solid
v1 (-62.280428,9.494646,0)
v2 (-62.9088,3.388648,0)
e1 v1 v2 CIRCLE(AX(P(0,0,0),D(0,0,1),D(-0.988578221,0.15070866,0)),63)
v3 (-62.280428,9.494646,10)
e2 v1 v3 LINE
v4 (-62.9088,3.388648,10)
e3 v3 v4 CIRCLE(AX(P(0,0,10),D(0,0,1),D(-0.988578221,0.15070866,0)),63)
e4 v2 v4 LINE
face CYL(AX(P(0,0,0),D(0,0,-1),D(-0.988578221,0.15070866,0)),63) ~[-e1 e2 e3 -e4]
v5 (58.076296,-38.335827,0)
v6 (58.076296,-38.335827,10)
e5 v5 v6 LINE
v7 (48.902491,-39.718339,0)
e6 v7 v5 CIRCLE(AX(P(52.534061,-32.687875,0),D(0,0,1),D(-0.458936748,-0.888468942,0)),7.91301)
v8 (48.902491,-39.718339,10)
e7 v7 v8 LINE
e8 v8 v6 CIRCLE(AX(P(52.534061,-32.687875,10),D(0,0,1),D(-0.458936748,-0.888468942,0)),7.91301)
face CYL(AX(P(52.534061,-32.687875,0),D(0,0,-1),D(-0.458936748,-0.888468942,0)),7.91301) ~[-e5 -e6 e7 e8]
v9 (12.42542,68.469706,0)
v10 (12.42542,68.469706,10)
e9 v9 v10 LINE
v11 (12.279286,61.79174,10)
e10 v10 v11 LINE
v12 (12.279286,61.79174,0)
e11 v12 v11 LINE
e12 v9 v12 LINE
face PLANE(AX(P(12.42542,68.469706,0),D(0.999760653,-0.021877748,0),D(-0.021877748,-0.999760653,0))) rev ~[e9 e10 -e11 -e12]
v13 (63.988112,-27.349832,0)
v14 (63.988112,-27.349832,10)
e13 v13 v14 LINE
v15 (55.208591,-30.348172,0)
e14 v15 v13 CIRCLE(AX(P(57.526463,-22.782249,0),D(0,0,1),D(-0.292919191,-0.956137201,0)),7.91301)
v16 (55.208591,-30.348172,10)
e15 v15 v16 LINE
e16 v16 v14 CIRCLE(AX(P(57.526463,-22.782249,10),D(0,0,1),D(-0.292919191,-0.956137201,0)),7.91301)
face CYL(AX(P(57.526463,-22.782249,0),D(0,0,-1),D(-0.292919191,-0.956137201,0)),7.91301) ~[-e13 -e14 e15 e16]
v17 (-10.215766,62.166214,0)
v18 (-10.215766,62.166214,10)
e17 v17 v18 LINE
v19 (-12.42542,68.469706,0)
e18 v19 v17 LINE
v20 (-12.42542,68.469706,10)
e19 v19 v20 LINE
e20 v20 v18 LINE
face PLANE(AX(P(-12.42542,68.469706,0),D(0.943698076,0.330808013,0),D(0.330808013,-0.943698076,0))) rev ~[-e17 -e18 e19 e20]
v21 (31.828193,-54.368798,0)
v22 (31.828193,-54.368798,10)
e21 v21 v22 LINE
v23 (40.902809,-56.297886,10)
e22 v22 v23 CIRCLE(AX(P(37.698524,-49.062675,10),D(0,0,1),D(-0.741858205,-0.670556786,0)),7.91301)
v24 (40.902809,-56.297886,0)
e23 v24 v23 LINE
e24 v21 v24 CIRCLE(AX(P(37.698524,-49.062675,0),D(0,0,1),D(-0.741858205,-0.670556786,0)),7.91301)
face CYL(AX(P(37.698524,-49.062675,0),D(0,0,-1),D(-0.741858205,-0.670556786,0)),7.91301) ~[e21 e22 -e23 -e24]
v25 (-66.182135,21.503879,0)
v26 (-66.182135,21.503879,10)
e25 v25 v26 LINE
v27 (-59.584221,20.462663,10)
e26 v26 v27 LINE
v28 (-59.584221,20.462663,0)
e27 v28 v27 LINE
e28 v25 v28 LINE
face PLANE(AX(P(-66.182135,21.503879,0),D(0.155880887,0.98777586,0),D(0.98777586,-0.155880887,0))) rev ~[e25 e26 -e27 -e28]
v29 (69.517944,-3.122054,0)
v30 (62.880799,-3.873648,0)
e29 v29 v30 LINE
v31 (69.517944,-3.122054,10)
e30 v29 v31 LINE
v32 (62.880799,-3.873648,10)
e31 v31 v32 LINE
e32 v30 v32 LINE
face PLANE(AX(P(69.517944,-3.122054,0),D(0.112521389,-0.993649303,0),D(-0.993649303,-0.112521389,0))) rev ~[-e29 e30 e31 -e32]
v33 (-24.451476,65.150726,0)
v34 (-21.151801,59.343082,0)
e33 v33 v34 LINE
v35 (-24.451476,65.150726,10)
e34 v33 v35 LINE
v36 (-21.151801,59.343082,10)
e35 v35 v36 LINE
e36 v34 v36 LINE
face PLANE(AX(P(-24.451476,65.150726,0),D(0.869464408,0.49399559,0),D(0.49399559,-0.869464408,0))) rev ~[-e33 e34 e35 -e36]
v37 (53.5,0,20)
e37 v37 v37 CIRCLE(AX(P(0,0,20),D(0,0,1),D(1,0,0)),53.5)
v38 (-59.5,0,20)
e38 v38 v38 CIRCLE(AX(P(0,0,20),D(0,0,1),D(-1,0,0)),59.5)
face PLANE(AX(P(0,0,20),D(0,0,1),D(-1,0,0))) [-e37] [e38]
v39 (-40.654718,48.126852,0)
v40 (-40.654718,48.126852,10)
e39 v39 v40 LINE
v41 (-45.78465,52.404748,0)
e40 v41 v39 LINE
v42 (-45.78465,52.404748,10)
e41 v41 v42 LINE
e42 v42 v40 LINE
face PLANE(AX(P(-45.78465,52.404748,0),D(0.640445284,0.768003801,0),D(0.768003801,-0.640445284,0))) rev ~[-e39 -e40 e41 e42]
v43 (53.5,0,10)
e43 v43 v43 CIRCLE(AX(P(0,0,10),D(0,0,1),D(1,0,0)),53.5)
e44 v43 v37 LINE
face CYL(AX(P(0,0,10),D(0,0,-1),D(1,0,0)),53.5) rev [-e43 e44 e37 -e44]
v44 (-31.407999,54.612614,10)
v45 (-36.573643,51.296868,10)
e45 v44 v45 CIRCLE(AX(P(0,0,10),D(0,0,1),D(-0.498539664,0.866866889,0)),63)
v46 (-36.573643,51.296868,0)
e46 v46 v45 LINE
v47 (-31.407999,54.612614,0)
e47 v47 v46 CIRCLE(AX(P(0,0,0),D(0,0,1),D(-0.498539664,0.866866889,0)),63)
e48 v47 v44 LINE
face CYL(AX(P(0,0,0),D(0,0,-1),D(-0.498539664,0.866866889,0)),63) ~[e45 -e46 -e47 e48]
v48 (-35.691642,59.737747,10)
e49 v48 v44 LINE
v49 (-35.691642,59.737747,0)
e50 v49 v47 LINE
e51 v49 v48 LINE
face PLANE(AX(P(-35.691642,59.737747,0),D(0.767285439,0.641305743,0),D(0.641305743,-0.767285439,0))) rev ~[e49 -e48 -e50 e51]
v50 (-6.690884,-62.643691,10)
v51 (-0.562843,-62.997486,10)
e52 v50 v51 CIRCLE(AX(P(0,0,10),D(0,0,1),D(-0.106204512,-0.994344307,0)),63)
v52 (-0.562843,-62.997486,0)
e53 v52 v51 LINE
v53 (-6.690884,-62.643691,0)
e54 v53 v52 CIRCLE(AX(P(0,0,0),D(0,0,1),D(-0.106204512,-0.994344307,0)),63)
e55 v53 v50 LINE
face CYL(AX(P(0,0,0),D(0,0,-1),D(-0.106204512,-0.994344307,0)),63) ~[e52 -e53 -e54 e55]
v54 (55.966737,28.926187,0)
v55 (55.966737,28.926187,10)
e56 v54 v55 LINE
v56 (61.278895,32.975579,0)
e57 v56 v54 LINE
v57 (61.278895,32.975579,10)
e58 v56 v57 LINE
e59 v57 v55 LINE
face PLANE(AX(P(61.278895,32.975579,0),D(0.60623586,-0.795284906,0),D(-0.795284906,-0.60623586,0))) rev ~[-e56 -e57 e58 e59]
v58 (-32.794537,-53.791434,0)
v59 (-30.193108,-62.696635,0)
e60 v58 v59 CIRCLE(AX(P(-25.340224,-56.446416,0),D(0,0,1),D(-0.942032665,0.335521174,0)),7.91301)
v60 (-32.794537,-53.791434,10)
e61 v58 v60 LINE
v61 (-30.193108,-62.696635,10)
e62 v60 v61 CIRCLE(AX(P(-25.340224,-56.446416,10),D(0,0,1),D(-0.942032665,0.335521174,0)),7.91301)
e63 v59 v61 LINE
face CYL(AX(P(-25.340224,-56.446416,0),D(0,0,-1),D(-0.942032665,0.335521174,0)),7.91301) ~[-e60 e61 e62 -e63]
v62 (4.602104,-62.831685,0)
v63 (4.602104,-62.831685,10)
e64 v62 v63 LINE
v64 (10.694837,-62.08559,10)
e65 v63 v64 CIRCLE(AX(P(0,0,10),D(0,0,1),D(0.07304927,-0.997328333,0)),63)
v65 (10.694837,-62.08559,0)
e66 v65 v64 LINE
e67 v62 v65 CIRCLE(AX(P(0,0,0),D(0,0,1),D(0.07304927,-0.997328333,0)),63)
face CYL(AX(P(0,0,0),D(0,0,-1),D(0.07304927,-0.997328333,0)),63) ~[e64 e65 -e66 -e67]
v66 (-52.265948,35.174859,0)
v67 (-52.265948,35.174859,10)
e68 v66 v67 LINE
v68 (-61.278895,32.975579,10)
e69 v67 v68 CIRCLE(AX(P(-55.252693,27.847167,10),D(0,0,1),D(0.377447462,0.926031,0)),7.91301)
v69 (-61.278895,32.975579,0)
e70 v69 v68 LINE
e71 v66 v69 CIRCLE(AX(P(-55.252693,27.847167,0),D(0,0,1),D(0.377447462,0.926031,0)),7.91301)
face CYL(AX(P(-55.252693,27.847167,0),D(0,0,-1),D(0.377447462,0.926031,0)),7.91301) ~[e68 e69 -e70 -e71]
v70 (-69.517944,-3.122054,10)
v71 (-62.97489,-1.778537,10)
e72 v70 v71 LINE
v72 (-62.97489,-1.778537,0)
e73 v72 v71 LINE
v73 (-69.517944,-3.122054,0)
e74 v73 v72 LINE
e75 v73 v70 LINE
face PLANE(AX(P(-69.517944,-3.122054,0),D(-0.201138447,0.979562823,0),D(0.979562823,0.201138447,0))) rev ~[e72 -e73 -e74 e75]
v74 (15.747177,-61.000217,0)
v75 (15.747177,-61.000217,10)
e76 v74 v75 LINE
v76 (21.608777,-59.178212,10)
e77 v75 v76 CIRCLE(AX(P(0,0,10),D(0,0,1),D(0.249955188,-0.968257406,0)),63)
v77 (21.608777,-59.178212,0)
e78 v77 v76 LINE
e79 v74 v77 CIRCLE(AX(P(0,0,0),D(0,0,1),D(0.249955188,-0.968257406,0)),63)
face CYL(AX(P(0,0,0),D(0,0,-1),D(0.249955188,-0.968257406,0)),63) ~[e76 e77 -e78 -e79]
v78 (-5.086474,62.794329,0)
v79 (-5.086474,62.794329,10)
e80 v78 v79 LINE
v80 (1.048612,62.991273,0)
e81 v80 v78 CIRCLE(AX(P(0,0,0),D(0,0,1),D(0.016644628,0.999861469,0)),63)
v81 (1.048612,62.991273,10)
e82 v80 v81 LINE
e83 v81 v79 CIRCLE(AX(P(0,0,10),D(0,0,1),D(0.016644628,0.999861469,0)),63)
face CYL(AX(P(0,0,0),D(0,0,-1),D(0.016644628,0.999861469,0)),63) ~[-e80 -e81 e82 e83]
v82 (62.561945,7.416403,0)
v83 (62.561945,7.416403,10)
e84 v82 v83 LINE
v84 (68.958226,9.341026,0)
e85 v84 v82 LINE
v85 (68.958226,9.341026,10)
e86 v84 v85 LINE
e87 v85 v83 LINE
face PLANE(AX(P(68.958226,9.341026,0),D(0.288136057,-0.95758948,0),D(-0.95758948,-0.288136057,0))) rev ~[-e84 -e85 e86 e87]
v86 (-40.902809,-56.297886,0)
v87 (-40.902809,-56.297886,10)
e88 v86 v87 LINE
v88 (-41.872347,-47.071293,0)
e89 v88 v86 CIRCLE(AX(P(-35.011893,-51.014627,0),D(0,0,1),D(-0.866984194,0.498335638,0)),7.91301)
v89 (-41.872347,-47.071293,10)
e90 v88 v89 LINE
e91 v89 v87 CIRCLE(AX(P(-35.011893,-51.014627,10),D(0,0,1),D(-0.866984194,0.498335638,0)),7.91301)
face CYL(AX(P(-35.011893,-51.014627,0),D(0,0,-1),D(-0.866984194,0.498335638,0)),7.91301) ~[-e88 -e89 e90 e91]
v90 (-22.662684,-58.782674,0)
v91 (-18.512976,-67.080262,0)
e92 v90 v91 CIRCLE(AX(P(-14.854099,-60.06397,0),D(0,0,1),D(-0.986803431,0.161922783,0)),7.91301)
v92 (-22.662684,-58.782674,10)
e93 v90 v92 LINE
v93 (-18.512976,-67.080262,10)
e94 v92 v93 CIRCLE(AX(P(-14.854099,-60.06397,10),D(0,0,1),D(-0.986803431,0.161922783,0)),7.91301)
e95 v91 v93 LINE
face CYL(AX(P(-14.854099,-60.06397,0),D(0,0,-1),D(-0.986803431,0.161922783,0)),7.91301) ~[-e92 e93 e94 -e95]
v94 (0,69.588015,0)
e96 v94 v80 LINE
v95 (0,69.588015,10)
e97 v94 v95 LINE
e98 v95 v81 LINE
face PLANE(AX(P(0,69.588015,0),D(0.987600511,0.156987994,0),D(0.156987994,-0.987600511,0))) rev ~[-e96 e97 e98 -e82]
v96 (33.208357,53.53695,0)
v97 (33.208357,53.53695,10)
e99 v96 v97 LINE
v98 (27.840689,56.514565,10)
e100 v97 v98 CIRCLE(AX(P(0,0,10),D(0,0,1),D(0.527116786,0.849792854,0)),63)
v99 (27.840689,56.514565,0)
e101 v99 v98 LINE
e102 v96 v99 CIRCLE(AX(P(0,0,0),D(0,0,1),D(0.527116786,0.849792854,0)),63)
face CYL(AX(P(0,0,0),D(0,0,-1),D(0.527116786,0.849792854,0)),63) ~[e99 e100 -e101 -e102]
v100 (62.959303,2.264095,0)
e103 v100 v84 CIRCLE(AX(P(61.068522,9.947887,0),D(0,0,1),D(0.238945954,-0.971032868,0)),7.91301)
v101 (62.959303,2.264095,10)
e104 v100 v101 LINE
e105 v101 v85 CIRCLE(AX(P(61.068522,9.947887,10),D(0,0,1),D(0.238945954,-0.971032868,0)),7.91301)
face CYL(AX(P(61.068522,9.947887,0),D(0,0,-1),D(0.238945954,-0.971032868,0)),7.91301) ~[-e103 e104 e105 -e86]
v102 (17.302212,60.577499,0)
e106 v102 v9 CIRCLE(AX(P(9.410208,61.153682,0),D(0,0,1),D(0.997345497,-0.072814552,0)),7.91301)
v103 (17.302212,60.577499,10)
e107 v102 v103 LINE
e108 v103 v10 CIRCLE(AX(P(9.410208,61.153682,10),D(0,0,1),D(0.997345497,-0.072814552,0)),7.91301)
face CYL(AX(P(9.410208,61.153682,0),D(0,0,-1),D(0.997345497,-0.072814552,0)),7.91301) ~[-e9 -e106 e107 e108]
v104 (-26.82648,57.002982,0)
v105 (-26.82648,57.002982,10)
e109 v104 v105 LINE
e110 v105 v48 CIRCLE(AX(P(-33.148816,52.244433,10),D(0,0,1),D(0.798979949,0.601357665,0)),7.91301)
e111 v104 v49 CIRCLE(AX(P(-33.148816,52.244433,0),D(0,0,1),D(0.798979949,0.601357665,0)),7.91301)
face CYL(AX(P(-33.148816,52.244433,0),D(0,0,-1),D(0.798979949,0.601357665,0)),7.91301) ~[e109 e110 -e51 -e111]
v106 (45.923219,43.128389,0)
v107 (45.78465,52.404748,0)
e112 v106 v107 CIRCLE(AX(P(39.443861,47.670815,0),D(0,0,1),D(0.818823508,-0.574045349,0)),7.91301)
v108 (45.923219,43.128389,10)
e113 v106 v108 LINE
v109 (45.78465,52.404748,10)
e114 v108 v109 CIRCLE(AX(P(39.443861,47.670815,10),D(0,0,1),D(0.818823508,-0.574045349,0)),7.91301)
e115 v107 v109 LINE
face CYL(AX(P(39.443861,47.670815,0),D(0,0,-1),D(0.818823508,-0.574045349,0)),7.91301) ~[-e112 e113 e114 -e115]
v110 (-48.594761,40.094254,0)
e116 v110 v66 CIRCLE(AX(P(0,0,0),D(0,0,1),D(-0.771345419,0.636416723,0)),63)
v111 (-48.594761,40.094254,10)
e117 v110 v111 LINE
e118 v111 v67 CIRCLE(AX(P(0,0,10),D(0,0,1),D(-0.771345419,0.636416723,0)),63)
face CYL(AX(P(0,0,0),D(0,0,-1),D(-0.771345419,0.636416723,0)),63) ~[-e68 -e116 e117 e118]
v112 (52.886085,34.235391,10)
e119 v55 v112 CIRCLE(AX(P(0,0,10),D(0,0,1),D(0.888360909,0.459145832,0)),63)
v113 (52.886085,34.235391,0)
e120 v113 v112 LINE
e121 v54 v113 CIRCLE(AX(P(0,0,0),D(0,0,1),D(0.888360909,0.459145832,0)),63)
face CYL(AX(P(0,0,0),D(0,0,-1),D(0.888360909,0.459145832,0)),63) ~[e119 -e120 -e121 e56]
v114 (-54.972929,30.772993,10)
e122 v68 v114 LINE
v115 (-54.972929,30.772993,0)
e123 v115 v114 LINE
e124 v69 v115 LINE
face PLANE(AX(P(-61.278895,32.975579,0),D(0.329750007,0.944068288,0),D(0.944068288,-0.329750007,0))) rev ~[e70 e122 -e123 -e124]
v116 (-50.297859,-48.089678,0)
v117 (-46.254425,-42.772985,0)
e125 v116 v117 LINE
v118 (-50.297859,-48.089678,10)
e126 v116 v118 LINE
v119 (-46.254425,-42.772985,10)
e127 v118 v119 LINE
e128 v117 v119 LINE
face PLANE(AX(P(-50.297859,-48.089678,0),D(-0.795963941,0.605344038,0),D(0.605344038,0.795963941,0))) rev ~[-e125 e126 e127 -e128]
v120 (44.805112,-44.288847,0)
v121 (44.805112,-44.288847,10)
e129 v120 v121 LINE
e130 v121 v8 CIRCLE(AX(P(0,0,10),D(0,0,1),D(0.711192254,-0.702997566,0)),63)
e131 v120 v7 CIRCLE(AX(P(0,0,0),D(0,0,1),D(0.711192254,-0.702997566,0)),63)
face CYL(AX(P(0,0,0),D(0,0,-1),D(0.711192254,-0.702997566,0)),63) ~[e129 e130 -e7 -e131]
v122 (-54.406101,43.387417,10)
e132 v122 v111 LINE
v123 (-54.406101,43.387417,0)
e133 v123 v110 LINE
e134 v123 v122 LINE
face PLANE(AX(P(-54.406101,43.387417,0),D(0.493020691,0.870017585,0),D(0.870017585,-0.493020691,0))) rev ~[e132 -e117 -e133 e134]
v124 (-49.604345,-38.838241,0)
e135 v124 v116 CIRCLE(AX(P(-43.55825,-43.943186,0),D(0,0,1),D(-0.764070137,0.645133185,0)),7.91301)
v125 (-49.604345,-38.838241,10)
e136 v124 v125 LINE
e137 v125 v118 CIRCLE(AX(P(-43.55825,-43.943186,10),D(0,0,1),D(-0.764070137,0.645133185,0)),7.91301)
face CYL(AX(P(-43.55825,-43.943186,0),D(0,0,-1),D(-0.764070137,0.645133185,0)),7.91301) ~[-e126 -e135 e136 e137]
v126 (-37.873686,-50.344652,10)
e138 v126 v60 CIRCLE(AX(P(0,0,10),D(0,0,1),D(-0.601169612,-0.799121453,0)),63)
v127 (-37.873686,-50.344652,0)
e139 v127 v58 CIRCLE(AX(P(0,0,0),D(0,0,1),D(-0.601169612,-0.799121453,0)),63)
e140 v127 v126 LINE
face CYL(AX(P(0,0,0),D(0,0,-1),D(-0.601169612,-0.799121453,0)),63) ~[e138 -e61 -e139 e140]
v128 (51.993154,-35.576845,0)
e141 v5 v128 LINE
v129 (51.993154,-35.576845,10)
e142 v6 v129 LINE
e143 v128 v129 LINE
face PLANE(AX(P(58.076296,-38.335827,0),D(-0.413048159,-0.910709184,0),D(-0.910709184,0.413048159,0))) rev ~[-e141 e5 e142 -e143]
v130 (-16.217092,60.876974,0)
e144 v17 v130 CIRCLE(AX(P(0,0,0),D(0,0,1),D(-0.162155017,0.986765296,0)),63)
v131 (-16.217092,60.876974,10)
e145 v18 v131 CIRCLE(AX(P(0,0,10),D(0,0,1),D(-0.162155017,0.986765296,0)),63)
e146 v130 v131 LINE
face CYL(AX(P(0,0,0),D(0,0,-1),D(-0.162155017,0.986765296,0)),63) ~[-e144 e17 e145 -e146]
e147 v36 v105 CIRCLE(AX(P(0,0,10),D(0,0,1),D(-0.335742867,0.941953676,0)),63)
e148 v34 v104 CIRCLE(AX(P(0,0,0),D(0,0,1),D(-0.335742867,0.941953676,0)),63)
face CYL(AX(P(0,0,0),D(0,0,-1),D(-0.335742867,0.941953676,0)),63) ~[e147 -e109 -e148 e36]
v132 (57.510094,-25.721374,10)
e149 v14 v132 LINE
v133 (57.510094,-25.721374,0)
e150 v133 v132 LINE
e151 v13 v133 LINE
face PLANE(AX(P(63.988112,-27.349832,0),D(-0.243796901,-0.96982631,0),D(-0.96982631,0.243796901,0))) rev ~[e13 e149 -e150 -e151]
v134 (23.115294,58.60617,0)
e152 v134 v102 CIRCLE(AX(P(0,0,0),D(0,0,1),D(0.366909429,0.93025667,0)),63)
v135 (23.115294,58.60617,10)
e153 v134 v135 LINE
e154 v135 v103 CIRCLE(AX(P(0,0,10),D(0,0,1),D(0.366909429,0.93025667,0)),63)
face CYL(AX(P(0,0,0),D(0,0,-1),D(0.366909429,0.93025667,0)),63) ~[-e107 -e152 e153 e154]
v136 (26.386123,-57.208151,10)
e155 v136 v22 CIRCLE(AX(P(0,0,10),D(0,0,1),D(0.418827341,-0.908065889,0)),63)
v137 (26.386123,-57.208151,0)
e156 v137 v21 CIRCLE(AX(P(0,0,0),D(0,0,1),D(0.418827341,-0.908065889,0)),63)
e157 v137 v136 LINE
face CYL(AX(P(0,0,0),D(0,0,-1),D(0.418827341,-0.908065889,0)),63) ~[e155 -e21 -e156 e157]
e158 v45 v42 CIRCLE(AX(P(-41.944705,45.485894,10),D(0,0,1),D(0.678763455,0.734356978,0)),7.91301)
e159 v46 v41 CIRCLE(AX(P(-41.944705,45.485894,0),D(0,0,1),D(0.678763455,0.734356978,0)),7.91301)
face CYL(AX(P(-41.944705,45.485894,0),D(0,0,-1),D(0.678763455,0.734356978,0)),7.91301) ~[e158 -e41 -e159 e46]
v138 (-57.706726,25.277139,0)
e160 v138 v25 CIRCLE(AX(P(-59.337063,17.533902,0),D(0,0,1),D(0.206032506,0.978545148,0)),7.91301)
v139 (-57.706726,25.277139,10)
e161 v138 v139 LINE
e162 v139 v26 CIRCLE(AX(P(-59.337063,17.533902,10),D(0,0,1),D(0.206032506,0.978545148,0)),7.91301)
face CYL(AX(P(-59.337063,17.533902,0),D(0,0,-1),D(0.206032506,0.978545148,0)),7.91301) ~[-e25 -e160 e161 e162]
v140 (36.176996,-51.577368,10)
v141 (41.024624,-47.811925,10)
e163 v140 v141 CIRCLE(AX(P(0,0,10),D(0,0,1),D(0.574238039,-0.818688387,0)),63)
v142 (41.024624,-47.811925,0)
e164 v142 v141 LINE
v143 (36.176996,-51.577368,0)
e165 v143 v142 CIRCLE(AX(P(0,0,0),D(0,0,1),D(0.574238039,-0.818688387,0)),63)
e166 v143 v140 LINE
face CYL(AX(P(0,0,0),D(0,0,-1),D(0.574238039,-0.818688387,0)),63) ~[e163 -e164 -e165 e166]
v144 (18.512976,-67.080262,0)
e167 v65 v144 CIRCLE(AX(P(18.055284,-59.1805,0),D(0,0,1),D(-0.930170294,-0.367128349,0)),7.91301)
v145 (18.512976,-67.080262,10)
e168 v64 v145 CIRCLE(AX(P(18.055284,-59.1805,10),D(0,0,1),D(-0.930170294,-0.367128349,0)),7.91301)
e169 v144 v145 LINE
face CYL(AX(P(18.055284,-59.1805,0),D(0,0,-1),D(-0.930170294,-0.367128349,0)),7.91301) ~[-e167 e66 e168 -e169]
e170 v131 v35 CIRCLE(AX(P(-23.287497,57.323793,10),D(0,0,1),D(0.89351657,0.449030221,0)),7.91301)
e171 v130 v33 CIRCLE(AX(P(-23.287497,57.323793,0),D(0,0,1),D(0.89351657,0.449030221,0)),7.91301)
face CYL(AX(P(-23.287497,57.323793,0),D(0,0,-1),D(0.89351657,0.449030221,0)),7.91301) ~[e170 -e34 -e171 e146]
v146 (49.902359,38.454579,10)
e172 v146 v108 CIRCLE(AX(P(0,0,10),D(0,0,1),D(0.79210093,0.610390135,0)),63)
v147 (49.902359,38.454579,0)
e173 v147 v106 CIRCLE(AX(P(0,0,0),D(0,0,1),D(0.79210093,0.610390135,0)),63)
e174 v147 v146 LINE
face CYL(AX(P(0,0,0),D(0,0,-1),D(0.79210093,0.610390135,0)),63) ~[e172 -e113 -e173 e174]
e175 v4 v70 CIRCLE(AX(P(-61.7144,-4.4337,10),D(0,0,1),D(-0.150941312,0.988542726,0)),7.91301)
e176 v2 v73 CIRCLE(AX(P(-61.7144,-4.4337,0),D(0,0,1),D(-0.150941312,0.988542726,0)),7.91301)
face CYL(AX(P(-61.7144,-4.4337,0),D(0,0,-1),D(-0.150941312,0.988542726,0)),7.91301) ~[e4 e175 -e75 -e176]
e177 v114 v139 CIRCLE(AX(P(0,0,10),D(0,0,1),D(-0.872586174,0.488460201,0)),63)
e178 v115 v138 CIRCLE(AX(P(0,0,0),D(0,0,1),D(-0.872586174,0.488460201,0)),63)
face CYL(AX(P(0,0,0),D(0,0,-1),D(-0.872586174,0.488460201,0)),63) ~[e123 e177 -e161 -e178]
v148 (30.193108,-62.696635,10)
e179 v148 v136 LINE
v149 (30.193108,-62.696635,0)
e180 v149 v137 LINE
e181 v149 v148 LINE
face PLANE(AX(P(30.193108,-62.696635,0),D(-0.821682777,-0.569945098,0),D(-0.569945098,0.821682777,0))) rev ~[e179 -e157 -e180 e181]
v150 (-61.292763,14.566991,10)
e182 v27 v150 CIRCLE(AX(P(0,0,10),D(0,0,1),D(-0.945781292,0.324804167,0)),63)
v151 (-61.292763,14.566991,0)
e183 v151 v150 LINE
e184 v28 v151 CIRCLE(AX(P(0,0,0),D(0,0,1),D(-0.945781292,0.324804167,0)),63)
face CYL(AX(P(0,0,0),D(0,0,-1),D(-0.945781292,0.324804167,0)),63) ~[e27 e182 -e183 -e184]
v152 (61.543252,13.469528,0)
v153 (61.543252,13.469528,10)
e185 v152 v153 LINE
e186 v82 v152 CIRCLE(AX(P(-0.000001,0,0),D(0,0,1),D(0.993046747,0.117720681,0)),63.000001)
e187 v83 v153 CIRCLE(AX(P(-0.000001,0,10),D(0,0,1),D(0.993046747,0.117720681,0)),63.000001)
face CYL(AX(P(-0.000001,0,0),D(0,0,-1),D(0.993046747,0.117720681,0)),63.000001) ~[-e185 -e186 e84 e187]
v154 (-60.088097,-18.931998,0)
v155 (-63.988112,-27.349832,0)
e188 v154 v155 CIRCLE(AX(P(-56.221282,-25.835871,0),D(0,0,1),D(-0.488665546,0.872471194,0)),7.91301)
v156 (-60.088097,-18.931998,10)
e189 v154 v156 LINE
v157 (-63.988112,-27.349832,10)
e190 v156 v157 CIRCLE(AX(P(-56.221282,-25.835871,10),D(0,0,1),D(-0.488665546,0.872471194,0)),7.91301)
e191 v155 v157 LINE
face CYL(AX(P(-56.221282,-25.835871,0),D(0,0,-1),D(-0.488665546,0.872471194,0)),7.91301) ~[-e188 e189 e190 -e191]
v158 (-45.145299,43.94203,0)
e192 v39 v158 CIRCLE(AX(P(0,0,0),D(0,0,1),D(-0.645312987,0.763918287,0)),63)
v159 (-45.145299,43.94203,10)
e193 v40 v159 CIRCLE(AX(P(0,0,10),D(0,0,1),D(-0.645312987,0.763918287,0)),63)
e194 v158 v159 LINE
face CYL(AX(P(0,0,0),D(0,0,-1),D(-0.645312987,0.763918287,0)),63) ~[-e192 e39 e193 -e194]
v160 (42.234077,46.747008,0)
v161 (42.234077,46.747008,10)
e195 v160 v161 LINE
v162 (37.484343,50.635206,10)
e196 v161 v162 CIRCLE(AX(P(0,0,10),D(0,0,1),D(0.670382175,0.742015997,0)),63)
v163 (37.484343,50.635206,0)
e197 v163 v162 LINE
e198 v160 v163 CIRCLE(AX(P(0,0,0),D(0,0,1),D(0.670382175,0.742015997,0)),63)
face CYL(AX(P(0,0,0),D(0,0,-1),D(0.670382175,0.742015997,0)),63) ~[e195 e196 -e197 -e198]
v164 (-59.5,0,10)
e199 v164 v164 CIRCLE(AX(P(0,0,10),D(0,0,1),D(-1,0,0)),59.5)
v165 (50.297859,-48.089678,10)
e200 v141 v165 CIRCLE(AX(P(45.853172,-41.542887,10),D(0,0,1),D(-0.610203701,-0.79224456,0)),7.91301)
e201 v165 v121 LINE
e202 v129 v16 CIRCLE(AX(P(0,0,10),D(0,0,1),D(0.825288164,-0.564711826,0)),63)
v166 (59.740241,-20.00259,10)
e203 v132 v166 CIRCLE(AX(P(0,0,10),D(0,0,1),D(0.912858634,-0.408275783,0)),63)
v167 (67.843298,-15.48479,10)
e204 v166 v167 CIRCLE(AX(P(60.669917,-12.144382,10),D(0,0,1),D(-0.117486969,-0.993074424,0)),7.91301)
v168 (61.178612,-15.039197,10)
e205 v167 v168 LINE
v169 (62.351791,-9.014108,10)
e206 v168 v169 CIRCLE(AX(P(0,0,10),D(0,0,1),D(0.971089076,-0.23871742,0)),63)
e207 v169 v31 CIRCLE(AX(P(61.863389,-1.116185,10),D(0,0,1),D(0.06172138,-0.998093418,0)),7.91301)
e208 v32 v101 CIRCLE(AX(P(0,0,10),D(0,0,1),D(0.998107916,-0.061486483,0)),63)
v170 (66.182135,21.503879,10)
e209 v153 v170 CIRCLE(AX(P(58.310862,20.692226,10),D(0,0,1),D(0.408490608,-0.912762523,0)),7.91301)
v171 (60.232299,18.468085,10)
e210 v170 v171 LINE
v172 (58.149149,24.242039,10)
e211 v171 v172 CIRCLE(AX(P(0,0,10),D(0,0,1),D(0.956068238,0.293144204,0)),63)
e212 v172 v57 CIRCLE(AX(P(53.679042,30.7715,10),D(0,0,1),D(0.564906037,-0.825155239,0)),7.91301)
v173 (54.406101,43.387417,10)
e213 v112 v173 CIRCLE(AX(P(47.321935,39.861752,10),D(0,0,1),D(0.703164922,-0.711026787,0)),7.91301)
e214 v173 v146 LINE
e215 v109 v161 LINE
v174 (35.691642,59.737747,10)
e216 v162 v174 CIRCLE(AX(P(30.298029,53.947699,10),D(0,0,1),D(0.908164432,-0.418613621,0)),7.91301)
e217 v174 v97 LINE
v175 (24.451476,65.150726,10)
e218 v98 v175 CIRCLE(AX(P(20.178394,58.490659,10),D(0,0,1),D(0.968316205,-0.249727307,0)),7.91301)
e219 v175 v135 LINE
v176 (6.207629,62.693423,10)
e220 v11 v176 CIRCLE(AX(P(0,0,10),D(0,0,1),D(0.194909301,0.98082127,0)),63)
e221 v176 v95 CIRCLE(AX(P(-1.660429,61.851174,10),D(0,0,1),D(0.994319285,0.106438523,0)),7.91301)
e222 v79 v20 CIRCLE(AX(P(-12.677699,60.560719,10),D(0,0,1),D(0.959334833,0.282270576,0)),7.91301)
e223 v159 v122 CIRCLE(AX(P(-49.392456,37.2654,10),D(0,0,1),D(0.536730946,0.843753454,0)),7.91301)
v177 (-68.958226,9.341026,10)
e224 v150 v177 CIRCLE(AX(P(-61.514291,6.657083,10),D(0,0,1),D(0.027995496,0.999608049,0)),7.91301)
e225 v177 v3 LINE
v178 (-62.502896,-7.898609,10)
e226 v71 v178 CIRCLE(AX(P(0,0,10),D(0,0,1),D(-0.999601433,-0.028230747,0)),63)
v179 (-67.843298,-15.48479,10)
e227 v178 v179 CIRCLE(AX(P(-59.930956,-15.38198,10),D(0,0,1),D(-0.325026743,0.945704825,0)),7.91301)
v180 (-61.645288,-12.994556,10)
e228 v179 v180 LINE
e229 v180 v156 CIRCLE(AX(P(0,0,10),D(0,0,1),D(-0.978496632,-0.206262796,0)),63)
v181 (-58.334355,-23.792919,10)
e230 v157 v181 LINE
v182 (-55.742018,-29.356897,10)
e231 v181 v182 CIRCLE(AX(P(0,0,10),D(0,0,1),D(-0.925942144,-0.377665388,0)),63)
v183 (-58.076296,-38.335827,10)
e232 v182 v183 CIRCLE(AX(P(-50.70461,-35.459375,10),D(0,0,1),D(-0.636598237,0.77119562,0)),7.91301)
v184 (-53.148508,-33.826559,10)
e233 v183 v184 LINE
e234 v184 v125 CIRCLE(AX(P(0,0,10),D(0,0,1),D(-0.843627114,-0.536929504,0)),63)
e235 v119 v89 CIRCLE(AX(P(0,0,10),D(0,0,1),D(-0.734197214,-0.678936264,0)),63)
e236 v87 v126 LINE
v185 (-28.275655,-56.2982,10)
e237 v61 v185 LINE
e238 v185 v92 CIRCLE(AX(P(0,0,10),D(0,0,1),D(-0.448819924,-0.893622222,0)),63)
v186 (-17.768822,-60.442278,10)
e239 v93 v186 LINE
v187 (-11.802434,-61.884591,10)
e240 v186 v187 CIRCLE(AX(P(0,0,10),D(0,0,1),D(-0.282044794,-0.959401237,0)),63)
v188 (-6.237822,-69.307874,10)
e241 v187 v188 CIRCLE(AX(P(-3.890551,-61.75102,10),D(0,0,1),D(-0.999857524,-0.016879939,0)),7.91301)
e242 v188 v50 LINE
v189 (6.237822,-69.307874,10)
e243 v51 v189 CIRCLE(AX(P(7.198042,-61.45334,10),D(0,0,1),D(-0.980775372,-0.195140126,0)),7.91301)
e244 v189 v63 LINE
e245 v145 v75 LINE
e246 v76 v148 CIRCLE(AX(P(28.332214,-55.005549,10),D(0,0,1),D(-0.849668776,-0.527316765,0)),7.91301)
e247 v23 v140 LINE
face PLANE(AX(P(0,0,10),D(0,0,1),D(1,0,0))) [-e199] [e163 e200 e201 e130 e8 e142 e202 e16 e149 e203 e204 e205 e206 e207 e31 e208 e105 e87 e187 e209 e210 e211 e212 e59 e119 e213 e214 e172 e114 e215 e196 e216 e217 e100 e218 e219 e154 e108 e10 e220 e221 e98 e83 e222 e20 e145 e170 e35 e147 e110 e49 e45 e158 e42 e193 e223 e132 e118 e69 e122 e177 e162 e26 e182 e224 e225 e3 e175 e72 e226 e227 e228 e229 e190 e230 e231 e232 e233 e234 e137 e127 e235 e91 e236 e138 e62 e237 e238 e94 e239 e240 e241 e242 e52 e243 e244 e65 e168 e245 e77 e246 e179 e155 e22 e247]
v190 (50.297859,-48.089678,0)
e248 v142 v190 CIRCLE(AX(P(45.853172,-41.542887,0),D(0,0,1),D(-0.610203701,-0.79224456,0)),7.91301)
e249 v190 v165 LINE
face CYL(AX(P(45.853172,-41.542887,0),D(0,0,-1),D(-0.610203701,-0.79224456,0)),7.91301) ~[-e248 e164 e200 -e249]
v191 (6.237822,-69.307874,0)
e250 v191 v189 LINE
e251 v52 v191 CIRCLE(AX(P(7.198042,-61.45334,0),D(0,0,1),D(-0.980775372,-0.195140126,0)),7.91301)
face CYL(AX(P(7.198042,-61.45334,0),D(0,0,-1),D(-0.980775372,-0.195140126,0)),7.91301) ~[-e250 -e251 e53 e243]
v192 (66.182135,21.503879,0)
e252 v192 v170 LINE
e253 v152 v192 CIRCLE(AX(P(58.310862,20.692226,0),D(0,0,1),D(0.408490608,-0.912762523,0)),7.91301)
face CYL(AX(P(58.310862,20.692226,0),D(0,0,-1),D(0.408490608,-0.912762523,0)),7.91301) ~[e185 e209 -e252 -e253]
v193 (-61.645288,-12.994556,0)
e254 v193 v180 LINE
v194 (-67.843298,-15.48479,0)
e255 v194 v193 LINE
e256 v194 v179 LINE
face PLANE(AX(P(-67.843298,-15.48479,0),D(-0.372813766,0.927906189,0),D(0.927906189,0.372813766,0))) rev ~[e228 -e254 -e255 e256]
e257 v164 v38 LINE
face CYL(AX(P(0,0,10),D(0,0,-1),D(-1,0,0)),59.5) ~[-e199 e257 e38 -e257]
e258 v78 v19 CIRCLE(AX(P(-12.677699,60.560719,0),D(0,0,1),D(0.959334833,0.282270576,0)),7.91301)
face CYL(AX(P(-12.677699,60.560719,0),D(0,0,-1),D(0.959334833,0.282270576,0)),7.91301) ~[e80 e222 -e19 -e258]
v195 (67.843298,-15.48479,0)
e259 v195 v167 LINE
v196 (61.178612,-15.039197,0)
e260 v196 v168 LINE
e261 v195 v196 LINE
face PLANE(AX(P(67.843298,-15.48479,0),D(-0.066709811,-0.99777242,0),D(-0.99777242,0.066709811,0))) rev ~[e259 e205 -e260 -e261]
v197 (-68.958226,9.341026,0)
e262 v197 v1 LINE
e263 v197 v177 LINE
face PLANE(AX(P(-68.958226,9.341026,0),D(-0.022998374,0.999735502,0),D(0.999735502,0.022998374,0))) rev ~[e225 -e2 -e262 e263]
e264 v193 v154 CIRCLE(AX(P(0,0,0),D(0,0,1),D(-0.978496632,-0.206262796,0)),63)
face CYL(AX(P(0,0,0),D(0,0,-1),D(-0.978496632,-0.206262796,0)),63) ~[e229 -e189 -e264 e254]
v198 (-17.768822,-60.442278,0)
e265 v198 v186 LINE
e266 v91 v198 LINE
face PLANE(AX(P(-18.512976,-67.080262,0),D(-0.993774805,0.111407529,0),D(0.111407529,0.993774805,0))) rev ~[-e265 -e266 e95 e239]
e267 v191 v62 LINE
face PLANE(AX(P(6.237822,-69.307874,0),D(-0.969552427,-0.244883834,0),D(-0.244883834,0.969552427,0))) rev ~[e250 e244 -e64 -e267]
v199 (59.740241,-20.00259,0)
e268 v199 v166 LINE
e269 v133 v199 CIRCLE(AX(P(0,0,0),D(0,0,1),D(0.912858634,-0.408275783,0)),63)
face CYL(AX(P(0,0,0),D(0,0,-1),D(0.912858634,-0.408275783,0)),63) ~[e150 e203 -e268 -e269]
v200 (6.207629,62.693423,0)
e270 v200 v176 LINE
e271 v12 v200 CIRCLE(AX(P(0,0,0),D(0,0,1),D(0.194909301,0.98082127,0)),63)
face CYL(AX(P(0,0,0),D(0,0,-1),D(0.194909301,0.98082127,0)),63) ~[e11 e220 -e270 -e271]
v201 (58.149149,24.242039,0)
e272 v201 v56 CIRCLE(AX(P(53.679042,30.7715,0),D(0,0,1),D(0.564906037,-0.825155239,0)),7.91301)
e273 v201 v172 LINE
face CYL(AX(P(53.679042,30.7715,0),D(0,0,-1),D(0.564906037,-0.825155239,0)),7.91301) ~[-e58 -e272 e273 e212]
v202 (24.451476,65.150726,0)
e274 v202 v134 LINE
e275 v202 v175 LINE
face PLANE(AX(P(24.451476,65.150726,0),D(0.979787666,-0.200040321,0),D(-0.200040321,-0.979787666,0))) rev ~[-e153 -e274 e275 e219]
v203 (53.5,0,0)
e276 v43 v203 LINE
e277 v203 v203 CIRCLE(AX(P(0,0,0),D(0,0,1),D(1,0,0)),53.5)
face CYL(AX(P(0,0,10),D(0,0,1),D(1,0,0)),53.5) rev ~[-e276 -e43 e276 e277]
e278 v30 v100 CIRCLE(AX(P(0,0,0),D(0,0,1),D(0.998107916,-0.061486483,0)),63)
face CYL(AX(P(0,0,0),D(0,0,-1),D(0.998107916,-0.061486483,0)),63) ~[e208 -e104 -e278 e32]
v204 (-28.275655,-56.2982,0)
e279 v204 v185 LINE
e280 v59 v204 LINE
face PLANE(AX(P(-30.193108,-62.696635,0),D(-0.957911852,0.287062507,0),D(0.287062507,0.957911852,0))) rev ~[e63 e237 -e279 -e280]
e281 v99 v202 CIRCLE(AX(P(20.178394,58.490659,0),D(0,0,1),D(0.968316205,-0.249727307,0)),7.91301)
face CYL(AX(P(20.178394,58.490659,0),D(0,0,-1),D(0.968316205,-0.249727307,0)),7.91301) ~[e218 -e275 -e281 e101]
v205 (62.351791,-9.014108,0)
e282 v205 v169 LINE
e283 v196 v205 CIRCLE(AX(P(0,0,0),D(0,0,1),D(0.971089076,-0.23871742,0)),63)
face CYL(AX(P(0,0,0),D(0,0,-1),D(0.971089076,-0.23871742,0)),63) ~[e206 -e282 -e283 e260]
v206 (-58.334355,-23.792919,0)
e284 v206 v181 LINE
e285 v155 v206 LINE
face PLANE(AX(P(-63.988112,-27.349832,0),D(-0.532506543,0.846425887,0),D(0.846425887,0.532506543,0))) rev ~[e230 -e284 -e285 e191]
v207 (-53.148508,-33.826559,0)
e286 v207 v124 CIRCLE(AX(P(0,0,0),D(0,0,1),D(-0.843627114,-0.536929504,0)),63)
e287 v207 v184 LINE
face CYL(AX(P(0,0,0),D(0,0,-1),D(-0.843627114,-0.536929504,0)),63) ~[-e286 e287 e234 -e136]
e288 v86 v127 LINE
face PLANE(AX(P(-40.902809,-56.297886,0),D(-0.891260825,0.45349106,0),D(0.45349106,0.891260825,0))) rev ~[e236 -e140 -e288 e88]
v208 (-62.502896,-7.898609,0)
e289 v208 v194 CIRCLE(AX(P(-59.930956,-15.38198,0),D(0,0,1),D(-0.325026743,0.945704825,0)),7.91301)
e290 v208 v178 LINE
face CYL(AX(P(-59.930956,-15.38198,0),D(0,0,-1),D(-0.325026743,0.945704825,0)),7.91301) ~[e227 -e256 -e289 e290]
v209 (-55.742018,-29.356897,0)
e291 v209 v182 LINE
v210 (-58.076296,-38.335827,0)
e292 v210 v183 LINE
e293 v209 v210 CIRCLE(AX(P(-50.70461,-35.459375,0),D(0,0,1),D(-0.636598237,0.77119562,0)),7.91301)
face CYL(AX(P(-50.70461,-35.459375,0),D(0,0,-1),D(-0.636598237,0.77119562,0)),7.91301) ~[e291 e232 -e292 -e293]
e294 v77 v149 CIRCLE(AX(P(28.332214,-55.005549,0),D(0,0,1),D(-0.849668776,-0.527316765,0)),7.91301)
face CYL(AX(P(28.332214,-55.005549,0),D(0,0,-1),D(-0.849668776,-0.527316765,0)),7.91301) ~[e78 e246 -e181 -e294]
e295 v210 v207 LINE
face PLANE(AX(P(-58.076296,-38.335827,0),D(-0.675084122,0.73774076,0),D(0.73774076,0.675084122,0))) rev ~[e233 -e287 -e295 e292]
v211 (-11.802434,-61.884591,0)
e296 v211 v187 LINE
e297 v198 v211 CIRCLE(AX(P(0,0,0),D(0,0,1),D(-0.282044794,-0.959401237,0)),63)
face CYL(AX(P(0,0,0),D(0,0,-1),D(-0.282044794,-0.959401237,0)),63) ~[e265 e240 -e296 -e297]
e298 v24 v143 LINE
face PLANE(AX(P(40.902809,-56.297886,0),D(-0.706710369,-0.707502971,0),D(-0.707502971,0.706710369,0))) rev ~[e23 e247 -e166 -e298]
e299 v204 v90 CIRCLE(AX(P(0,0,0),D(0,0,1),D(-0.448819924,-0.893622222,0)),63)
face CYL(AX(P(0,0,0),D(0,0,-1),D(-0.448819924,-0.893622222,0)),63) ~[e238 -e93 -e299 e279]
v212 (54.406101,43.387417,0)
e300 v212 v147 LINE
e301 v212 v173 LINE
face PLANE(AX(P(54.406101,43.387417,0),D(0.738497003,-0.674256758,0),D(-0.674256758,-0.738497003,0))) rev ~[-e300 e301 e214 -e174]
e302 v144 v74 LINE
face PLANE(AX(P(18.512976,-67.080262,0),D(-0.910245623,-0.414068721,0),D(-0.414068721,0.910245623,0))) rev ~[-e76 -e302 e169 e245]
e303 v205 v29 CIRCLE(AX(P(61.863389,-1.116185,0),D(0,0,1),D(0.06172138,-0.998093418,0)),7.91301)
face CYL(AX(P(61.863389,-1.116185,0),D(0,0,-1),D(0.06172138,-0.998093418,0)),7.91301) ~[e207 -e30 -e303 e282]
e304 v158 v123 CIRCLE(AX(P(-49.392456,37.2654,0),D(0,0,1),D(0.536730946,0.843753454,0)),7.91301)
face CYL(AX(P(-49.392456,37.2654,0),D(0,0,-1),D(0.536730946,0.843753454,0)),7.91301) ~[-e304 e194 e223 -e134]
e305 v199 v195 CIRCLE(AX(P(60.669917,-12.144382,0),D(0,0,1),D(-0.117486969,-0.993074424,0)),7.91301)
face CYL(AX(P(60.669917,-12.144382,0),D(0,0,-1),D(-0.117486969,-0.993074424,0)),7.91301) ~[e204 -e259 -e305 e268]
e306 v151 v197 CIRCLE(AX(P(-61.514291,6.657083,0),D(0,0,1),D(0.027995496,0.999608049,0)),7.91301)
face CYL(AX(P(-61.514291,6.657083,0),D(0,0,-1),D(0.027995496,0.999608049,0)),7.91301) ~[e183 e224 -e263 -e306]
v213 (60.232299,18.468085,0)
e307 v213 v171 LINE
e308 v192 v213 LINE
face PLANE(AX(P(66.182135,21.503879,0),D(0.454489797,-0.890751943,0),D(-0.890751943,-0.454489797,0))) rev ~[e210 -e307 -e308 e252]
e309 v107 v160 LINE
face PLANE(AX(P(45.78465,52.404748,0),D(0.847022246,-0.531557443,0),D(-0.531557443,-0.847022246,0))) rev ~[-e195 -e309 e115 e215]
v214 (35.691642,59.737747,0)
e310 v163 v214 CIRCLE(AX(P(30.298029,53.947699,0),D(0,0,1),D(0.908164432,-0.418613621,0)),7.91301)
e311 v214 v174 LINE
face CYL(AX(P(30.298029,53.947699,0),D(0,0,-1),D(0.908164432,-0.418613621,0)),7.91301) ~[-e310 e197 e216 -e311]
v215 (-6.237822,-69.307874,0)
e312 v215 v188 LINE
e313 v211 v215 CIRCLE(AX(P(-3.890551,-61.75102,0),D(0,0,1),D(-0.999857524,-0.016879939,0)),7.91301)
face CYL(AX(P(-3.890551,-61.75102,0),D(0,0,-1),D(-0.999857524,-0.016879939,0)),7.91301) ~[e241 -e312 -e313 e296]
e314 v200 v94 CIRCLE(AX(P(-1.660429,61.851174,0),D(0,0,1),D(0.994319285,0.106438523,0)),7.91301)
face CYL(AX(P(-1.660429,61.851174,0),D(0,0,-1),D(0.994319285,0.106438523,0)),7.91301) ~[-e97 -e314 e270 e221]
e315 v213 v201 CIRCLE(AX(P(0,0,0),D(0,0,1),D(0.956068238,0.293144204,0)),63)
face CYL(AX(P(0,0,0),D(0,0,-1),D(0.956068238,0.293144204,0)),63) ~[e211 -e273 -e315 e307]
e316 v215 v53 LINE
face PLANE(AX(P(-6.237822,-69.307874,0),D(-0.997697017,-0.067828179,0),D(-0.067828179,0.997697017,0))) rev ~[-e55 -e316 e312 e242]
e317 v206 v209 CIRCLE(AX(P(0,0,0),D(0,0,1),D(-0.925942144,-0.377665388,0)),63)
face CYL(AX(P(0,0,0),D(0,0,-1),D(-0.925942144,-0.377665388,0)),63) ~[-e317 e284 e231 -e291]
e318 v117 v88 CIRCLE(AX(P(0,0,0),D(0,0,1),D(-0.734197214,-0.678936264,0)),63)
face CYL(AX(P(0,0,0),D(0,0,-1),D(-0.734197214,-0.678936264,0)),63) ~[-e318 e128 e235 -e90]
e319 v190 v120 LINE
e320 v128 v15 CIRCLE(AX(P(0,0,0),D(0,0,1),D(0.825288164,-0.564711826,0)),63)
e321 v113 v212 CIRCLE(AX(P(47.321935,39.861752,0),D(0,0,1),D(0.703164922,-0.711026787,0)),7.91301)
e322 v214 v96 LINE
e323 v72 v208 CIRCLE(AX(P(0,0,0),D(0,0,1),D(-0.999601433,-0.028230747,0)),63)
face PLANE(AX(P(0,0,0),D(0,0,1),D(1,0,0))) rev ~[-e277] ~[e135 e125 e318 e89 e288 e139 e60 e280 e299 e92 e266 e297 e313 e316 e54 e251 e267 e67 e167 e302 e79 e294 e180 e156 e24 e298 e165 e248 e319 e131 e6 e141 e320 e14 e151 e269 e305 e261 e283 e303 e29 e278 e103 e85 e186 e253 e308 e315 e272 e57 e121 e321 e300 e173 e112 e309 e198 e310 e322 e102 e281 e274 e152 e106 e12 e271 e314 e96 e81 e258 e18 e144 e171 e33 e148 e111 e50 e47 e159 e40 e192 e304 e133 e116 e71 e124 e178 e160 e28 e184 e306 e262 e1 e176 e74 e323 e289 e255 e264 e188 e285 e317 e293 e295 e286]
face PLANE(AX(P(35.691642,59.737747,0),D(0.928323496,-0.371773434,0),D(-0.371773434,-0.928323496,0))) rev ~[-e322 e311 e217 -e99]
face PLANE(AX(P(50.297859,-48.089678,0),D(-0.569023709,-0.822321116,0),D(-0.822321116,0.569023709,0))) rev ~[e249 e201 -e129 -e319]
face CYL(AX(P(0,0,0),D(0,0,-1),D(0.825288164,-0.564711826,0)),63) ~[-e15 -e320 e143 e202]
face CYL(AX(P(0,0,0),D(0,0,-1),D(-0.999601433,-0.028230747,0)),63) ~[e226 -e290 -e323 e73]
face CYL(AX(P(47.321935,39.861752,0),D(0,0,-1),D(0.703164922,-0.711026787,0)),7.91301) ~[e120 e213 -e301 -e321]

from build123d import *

# Parameters (mm, degrees)
BOSS_EXTRUDE1_DEPTH = 10
SKETCH2_R           = 59.5
SKETCH2_R_2         = 53.5
BOSS_EXTRUDE2_DEPTH = 10
SKETCH3_R           = 53.5
CUT_EXTRUDE4_DEPTH  = 10


with BuildPart() as part:
    # Sketch1 → Boss-Extrude1 (new body)
    with BuildSketch(Plane.XY):
        with BuildLine():
            Line((0, 69.588014501), (1.048611539, 62.991272521))
            ThreePointArc((1.048611539, 62.991272521), (-2.021331039, 62.967564832), (-5.0864736, 62.794329253))
            ThreePointArc((-5.0864736, 62.794329253), (-7.836974129, 66.820360054), (-12.425419784, 68.469706479))
            Line((-12.425419784, 68.469706479), (-10.2157661, 62.166213677))
            ThreePointArc((-10.2157661, 62.166213677), (-13.232140267, 61.594727566), (-16.217092319, 60.876973617))
            ThreePointArc((-16.217092319, 60.876973617), (-19.642266731, 64.347183613), (-24.451476353, 65.150725754))
            Line((-24.451476353, 65.150725754), (-21.151800612, 59.343081576))
            ThreePointArc((-21.151800612, 59.343081576), (-24.017657619, 58.242185077), (-26.826480348, 57.002981958))
            ThreePointArc((-26.826480348, 57.002981958), (-30.816240719, 59.805835745), (-35.691642354, 59.737747098))
            Line((-35.691642354, 59.737747098), (-31.407998848, 54.612614004))
            ThreePointArc((-31.407998848, 54.612614004), (-34.031227694, 53.017690837), (-36.573643225, 51.296867558))
            ThreePointArc((-36.573643225, 51.296867558), (-40.999755374, 53.342279108), (-45.784649601, 52.404748097))
            Line((-45.784649601, 52.404748097), (-40.654718159, 48.126852083))
            ThreePointArc((-40.654718159, 48.126852083), (-42.951006109, 46.08916439), (-45.145299116, 43.942029627))
            ThreePointArc((-45.145299116, 43.942029627), (-49.865504157, 45.164257731), (-54.406100539, 43.387417373))
            Line((-54.406100539, 43.387417373), (-48.594761377, 40.094253538))
            ThreePointArc((-48.594761377, 40.094253538), (-50.490303849, 37.679294278), (-52.265947947, 35.174858708))
            ThreePointArc((-52.265947947, 35.174858708), (-57.128534607, 35.534619949), (-61.27889464, 32.975579356))
            Line((-61.27889464, 32.975579356), (-54.97292898, 30.772992693))
            ThreePointArc((-54.97292898, 30.772992693), (-56.406801678, 28.058380645), (-57.706726208, 25.277138889))
            ThreePointArc((-57.706726208, 25.277138889), (-62.555406949, 24.762870243), (-66.182134647, 21.503879086))
            Line((-66.182134647, 21.503879086), (-59.584221415, 20.462662544))
            ThreePointArc((-59.584221415, 20.462662544), (-60.510338491, 17.535647571), (-61.292762806, 14.566991027))
            ThreePointArc((-61.292762806, 14.566991027), (-65.97169704, 13.195221514), (-68.958226392, 9.341026448))
            Line((-68.958226392, 9.341026448), (-62.280427947, 9.494645584))
            ThreePointArc((-62.280427947, 9.494645584), (-62.669023236, 6.449304357), (-62.908799576, 3.388648088))
            ThreePointArc((-62.908799576, 3.388648088), (-67.267602508, 1.203467507), (-69.517944001, -3.122054465))
            Line((-69.517944001, -3.122054465), (-62.97489028, -1.778537098))
            ThreePointArc((-62.97489028, -1.778537098), (-62.81347401, -4.844324807), (-62.502895767, -7.898608789))
            ThreePointArc((-62.502895767, -7.898608789), (-66.401471883, -10.826966935), (-67.84329769, -15.484789979))
            Line((-67.84329769, -15.484789979), (-61.645287824, -12.994556134))
            ThreePointArc((-61.645287824, -12.994556134), (-60.939048046, -15.982253385), (-60.088097459, -18.93199788))
            ThreePointArc((-60.088097459, -18.93199788), (-63.401143316, -22.509413752), (-63.98811197, -27.349831602))
            Line((-63.98811197, -27.349831602), (-58.334355095, -23.792919443))
            ThreePointArc((-58.334355095, -23.792919443), (-57.105990937, -26.606499189), (-55.742018259, -29.356896982))
            ThreePointArc((-55.742018259, -29.356896982), (-58.363049836, -33.468389489), (-58.076295682, -38.335827134))
            Line((-58.076295682, -38.335827134), (-53.148508196, -33.826558745))
            ThreePointArc((-53.148508196, -33.826558745), (-51.437500293, -36.375590217), (-49.604344727, -38.83824126))
            ThreePointArc((-49.604344727, -38.83824126), (-51.449119914, -43.351663651), (-50.297859465, -48.089677639))
            Line((-50.297859465, -48.089677639), (-46.254424513, -42.772984617))
            ThreePointArc((-46.254424513, -42.772984617), (-44.115766066, -44.975539846), (-41.872346741, -47.071292508))
            ThreePointArc((-41.872346741, -47.071292508), (-42.881572944, -51.841579673), (-40.90280866, -56.297886336))
            Line((-40.90280866, -56.297886336), (-37.873685567, -50.344651569))
            ThreePointArc((-37.873685567, -50.344651569), (-35.376114819, -52.129938618), (-32.794537078, -53.791433684))
            ThreePointArc((-32.794537078, -53.791433684), (-32.935776938, -58.665264669), (-30.193107929, -62.696634645))
            Line((-30.193107929, -62.696634645), (-28.275655205, -56.298199996))
            ThreePointArc((-28.275655205, -56.298199996), (-25.499446135, -57.60883827), (-22.66268401, -58.782673922))
            ThreePointArc((-22.66268401, -58.782673922), (-21.931397961, -63.603399789), (-18.512975867, -67.080261528))
            Line((-18.512975867, -67.080261528), (-17.768822019, -60.442277952))
            ThreePointArc((-17.768822019, -60.442277952), (-14.80320427, -61.23614246), (-11.802433631, -61.884590654))
            ThreePointArc((-11.802433631, -61.884590654), (-10.222125808, -66.497269306), (-6.237821528, -69.307873613))
            Line((-6.237821528, -69.307873613), (-6.690884273, -62.643691363))
            ThreePointArc((-6.690884273, -62.643691363), (-3.631175241, -62.895266645), (-0.562843324, -62.997485723))
            ThreePointArc((-0.562843324, -62.997485723), (1.815693879, -67.253861874), (6.237821528, -69.307873613))
            Line((6.237821528, -69.307873613), (4.602103998, -62.831684991))
            ThreePointArc((4.602103998, -62.831684991), (7.657562749, -62.53288521), (10.69483723, -62.085589766))
            ThreePointArc((10.69483723, -62.085589766), (13.795155671, -65.848859984), (18.512975867, -67.080261528))
            Line((18.512975867, -67.080261528), (15.74717686, -61.000216565))
            ThreePointArc((15.74717686, -61.000216565), (18.700180371, -60.160645393), (21.608776916, -59.17821187))
            ThreePointArc((21.608776916, -59.17821187), (25.331229809, -62.327421554), (30.193107929, -62.696634645))
            Line((30.193107929, -62.696634645), (26.386122502, -57.208150987))
            ThreePointArc((26.386122502, -57.208150987), (29.14175881, -55.854792932), (31.828192733, -54.368797553))
            ThreePointArc((31.828192733, -54.368797553), (36.053137378, -56.802728512), (40.90280866, -56.297886336))
            Line((40.90280866, -56.297886336), (36.176996455, -51.577368365))
            ThreePointArc((36.176996455, -51.577368365), (38.646697142, -49.753721469), (41.024624246, -47.811925348))
            ThreePointArc((41.024624246, -47.811925348), (45.616267447, -49.452349038), (50.297859465, -48.089677639))
            Line((50.297859465, -48.089677639), (44.805111976, -44.288846686))
            ThreePointArc((44.805111976, -44.288846686), (46.90949883, -42.05352446), (48.902490582, -39.718338522))
            ThreePointArc((48.902490582, -39.718338522), (53.713253147, -40.512530377), (58.076295682, -38.335827134))
            Line((58.076295682, -38.335827134), (51.993154332, -35.576845034))
            ThreePointArc((51.993154332, -35.576845034), (53.664590628, -33.001692573), (55.208590632, -30.348171615))
            ThreePointArc((55.208590632, -30.348171615), (60.083850696, -30.270605655), (63.98811197, -27.349831602))
            Line((63.98811197, -27.349831602), (57.510093928, -25.72137431))
            ThreePointArc((57.510093928, -25.72137431), (58.694858328, -22.889159134), (59.740241154, -20.002589503))
            ThreePointArc((59.740241154, -20.002589503), (64.523303846, -19.055758761), (67.84329769, -15.484789979))
            Line((67.84329769, -15.484789979), (61.178611786, -15.039197451))
            ThreePointArc((61.178611786, -15.039197451), (61.838624987, -12.040949286), (62.351791171, -9.014107705))
            ThreePointArc((62.351791171, -9.014107705), (66.888924921, -7.228444101), (69.517944001, -3.122054465))
            Line((69.517944001, -3.122054465), (62.880798722, -3.873648413))
            ThreePointArc((62.880798722, -3.873648413), (62.994847358, -0.805733421), (62.959303317, 2.264094931))
            ThreePointArc((62.959303317, 2.264094931), (67.104680912, 4.8311987), (68.958226392, 9.341026448))
            Line((68.958226392, 9.341026448), (62.56194505, 7.416402873))
            ThreePointArc((62.56194505, 7.416402873), (62.126363502, 10.455379379), (61.543251651, 13.469527693))
            ThreePointArc((61.543251651, 13.469527693), (65.163637245, 16.735562799), (66.182134647, 21.503879086))
            Line((66.182134647, 21.503879086), (60.232298987, 18.468084869))
            ThreePointArc((60.232298987, 18.468084869), (59.261087206, 21.380447683), (58.149149238, 24.242038752))
            ThreePointArc((58.149149238, 24.242038752), (61.12818066, 28.10203214), (61.27889464, 32.975579356))
            Line((61.27889464, 32.975579356), (55.966737276, 28.926187421))
            ThreePointArc((55.966737276, 28.926187421), (54.491110807, 31.618330807), (52.886085324, 34.235390739))
            ThreePointArc((52.886085324, 34.235390739), (55.128014052, 38.565279046), (54.406100539, 43.387417373))
            Line((54.406100539, 43.387417373), (49.902358579, 38.454578509))
            ThreePointArc((49.902358579, 38.454578509), (47.969745271, 40.839974763), (45.923219113, 43.128389099))
            ThreePointArc((45.923219113, 43.128389099), (47.355987713, 47.789006151), (45.784649601, 52.404748097))
            Line((45.784649601, 52.404748097), (42.234077017, 46.747007803))
            ThreePointArc((42.234077017, 46.747007803), (39.906592652, 48.748988327), (37.484342854, 50.635205547))
            ThreePointArc((37.484342854, 50.635205547), (38.061900964, 55.476755278), (35.691642354, 59.737747098))
            Line((35.691642354, 59.737747098), (33.20835747, 53.536949802))
            ThreePointArc((33.20835747, 53.536949802), (30.560809311, 55.091169295), (27.840688973, 56.514564826))
            ThreePointArc((27.840688973, 56.514564826), (27.544473401, 61.381435844), (24.451476353, 65.150725754))
            Line((24.451476353, 65.150725754), (23.11529399, 58.606170185))
            ThreePointArc((23.11529399, 58.606170185), (20.232776412, 59.662674753), (17.302212441, 60.577499491))
            ThreePointArc((17.302212441, 60.577499491), (16.141743799, 65.313266557), (12.425419784, 68.469706479))
            Line((12.425419784, 68.469706479), (12.279285941, 61.791740037))
            ThreePointArc((12.279285941, 61.791740037), (9.254445432, 62.316572754), (6.207628565, 62.69342348))
            ThreePointArc((6.207628565, 62.69342348), (4.22020527, 67.145875143), (0, 69.588014501))
        make_face()
    extrude(amount=BOSS_EXTRUDE1_DEPTH)

    # Sketch2 → Boss-Extrude2 (add)
    with BuildSketch(Plane.XY.offset(10)):
        with Locations(Location((0, 0, 0), (0, 0, 180))):  # turned: the seam where the file's is
            Circle(SKETCH2_R)
        Circle(SKETCH2_R_2, mode=Mode.SUBTRACT)
    extrude(amount=BOSS_EXTRUDE2_DEPTH)

    # Sketch3 → Cut-Extrude4 (cut)
    with BuildSketch(Plane.XY.offset(10)):
        Circle(SKETCH3_R)
    extrude(amount=-CUT_EXTRUDE4_DEPTH, mode=Mode.SUBTRACT)


solid = part.part
